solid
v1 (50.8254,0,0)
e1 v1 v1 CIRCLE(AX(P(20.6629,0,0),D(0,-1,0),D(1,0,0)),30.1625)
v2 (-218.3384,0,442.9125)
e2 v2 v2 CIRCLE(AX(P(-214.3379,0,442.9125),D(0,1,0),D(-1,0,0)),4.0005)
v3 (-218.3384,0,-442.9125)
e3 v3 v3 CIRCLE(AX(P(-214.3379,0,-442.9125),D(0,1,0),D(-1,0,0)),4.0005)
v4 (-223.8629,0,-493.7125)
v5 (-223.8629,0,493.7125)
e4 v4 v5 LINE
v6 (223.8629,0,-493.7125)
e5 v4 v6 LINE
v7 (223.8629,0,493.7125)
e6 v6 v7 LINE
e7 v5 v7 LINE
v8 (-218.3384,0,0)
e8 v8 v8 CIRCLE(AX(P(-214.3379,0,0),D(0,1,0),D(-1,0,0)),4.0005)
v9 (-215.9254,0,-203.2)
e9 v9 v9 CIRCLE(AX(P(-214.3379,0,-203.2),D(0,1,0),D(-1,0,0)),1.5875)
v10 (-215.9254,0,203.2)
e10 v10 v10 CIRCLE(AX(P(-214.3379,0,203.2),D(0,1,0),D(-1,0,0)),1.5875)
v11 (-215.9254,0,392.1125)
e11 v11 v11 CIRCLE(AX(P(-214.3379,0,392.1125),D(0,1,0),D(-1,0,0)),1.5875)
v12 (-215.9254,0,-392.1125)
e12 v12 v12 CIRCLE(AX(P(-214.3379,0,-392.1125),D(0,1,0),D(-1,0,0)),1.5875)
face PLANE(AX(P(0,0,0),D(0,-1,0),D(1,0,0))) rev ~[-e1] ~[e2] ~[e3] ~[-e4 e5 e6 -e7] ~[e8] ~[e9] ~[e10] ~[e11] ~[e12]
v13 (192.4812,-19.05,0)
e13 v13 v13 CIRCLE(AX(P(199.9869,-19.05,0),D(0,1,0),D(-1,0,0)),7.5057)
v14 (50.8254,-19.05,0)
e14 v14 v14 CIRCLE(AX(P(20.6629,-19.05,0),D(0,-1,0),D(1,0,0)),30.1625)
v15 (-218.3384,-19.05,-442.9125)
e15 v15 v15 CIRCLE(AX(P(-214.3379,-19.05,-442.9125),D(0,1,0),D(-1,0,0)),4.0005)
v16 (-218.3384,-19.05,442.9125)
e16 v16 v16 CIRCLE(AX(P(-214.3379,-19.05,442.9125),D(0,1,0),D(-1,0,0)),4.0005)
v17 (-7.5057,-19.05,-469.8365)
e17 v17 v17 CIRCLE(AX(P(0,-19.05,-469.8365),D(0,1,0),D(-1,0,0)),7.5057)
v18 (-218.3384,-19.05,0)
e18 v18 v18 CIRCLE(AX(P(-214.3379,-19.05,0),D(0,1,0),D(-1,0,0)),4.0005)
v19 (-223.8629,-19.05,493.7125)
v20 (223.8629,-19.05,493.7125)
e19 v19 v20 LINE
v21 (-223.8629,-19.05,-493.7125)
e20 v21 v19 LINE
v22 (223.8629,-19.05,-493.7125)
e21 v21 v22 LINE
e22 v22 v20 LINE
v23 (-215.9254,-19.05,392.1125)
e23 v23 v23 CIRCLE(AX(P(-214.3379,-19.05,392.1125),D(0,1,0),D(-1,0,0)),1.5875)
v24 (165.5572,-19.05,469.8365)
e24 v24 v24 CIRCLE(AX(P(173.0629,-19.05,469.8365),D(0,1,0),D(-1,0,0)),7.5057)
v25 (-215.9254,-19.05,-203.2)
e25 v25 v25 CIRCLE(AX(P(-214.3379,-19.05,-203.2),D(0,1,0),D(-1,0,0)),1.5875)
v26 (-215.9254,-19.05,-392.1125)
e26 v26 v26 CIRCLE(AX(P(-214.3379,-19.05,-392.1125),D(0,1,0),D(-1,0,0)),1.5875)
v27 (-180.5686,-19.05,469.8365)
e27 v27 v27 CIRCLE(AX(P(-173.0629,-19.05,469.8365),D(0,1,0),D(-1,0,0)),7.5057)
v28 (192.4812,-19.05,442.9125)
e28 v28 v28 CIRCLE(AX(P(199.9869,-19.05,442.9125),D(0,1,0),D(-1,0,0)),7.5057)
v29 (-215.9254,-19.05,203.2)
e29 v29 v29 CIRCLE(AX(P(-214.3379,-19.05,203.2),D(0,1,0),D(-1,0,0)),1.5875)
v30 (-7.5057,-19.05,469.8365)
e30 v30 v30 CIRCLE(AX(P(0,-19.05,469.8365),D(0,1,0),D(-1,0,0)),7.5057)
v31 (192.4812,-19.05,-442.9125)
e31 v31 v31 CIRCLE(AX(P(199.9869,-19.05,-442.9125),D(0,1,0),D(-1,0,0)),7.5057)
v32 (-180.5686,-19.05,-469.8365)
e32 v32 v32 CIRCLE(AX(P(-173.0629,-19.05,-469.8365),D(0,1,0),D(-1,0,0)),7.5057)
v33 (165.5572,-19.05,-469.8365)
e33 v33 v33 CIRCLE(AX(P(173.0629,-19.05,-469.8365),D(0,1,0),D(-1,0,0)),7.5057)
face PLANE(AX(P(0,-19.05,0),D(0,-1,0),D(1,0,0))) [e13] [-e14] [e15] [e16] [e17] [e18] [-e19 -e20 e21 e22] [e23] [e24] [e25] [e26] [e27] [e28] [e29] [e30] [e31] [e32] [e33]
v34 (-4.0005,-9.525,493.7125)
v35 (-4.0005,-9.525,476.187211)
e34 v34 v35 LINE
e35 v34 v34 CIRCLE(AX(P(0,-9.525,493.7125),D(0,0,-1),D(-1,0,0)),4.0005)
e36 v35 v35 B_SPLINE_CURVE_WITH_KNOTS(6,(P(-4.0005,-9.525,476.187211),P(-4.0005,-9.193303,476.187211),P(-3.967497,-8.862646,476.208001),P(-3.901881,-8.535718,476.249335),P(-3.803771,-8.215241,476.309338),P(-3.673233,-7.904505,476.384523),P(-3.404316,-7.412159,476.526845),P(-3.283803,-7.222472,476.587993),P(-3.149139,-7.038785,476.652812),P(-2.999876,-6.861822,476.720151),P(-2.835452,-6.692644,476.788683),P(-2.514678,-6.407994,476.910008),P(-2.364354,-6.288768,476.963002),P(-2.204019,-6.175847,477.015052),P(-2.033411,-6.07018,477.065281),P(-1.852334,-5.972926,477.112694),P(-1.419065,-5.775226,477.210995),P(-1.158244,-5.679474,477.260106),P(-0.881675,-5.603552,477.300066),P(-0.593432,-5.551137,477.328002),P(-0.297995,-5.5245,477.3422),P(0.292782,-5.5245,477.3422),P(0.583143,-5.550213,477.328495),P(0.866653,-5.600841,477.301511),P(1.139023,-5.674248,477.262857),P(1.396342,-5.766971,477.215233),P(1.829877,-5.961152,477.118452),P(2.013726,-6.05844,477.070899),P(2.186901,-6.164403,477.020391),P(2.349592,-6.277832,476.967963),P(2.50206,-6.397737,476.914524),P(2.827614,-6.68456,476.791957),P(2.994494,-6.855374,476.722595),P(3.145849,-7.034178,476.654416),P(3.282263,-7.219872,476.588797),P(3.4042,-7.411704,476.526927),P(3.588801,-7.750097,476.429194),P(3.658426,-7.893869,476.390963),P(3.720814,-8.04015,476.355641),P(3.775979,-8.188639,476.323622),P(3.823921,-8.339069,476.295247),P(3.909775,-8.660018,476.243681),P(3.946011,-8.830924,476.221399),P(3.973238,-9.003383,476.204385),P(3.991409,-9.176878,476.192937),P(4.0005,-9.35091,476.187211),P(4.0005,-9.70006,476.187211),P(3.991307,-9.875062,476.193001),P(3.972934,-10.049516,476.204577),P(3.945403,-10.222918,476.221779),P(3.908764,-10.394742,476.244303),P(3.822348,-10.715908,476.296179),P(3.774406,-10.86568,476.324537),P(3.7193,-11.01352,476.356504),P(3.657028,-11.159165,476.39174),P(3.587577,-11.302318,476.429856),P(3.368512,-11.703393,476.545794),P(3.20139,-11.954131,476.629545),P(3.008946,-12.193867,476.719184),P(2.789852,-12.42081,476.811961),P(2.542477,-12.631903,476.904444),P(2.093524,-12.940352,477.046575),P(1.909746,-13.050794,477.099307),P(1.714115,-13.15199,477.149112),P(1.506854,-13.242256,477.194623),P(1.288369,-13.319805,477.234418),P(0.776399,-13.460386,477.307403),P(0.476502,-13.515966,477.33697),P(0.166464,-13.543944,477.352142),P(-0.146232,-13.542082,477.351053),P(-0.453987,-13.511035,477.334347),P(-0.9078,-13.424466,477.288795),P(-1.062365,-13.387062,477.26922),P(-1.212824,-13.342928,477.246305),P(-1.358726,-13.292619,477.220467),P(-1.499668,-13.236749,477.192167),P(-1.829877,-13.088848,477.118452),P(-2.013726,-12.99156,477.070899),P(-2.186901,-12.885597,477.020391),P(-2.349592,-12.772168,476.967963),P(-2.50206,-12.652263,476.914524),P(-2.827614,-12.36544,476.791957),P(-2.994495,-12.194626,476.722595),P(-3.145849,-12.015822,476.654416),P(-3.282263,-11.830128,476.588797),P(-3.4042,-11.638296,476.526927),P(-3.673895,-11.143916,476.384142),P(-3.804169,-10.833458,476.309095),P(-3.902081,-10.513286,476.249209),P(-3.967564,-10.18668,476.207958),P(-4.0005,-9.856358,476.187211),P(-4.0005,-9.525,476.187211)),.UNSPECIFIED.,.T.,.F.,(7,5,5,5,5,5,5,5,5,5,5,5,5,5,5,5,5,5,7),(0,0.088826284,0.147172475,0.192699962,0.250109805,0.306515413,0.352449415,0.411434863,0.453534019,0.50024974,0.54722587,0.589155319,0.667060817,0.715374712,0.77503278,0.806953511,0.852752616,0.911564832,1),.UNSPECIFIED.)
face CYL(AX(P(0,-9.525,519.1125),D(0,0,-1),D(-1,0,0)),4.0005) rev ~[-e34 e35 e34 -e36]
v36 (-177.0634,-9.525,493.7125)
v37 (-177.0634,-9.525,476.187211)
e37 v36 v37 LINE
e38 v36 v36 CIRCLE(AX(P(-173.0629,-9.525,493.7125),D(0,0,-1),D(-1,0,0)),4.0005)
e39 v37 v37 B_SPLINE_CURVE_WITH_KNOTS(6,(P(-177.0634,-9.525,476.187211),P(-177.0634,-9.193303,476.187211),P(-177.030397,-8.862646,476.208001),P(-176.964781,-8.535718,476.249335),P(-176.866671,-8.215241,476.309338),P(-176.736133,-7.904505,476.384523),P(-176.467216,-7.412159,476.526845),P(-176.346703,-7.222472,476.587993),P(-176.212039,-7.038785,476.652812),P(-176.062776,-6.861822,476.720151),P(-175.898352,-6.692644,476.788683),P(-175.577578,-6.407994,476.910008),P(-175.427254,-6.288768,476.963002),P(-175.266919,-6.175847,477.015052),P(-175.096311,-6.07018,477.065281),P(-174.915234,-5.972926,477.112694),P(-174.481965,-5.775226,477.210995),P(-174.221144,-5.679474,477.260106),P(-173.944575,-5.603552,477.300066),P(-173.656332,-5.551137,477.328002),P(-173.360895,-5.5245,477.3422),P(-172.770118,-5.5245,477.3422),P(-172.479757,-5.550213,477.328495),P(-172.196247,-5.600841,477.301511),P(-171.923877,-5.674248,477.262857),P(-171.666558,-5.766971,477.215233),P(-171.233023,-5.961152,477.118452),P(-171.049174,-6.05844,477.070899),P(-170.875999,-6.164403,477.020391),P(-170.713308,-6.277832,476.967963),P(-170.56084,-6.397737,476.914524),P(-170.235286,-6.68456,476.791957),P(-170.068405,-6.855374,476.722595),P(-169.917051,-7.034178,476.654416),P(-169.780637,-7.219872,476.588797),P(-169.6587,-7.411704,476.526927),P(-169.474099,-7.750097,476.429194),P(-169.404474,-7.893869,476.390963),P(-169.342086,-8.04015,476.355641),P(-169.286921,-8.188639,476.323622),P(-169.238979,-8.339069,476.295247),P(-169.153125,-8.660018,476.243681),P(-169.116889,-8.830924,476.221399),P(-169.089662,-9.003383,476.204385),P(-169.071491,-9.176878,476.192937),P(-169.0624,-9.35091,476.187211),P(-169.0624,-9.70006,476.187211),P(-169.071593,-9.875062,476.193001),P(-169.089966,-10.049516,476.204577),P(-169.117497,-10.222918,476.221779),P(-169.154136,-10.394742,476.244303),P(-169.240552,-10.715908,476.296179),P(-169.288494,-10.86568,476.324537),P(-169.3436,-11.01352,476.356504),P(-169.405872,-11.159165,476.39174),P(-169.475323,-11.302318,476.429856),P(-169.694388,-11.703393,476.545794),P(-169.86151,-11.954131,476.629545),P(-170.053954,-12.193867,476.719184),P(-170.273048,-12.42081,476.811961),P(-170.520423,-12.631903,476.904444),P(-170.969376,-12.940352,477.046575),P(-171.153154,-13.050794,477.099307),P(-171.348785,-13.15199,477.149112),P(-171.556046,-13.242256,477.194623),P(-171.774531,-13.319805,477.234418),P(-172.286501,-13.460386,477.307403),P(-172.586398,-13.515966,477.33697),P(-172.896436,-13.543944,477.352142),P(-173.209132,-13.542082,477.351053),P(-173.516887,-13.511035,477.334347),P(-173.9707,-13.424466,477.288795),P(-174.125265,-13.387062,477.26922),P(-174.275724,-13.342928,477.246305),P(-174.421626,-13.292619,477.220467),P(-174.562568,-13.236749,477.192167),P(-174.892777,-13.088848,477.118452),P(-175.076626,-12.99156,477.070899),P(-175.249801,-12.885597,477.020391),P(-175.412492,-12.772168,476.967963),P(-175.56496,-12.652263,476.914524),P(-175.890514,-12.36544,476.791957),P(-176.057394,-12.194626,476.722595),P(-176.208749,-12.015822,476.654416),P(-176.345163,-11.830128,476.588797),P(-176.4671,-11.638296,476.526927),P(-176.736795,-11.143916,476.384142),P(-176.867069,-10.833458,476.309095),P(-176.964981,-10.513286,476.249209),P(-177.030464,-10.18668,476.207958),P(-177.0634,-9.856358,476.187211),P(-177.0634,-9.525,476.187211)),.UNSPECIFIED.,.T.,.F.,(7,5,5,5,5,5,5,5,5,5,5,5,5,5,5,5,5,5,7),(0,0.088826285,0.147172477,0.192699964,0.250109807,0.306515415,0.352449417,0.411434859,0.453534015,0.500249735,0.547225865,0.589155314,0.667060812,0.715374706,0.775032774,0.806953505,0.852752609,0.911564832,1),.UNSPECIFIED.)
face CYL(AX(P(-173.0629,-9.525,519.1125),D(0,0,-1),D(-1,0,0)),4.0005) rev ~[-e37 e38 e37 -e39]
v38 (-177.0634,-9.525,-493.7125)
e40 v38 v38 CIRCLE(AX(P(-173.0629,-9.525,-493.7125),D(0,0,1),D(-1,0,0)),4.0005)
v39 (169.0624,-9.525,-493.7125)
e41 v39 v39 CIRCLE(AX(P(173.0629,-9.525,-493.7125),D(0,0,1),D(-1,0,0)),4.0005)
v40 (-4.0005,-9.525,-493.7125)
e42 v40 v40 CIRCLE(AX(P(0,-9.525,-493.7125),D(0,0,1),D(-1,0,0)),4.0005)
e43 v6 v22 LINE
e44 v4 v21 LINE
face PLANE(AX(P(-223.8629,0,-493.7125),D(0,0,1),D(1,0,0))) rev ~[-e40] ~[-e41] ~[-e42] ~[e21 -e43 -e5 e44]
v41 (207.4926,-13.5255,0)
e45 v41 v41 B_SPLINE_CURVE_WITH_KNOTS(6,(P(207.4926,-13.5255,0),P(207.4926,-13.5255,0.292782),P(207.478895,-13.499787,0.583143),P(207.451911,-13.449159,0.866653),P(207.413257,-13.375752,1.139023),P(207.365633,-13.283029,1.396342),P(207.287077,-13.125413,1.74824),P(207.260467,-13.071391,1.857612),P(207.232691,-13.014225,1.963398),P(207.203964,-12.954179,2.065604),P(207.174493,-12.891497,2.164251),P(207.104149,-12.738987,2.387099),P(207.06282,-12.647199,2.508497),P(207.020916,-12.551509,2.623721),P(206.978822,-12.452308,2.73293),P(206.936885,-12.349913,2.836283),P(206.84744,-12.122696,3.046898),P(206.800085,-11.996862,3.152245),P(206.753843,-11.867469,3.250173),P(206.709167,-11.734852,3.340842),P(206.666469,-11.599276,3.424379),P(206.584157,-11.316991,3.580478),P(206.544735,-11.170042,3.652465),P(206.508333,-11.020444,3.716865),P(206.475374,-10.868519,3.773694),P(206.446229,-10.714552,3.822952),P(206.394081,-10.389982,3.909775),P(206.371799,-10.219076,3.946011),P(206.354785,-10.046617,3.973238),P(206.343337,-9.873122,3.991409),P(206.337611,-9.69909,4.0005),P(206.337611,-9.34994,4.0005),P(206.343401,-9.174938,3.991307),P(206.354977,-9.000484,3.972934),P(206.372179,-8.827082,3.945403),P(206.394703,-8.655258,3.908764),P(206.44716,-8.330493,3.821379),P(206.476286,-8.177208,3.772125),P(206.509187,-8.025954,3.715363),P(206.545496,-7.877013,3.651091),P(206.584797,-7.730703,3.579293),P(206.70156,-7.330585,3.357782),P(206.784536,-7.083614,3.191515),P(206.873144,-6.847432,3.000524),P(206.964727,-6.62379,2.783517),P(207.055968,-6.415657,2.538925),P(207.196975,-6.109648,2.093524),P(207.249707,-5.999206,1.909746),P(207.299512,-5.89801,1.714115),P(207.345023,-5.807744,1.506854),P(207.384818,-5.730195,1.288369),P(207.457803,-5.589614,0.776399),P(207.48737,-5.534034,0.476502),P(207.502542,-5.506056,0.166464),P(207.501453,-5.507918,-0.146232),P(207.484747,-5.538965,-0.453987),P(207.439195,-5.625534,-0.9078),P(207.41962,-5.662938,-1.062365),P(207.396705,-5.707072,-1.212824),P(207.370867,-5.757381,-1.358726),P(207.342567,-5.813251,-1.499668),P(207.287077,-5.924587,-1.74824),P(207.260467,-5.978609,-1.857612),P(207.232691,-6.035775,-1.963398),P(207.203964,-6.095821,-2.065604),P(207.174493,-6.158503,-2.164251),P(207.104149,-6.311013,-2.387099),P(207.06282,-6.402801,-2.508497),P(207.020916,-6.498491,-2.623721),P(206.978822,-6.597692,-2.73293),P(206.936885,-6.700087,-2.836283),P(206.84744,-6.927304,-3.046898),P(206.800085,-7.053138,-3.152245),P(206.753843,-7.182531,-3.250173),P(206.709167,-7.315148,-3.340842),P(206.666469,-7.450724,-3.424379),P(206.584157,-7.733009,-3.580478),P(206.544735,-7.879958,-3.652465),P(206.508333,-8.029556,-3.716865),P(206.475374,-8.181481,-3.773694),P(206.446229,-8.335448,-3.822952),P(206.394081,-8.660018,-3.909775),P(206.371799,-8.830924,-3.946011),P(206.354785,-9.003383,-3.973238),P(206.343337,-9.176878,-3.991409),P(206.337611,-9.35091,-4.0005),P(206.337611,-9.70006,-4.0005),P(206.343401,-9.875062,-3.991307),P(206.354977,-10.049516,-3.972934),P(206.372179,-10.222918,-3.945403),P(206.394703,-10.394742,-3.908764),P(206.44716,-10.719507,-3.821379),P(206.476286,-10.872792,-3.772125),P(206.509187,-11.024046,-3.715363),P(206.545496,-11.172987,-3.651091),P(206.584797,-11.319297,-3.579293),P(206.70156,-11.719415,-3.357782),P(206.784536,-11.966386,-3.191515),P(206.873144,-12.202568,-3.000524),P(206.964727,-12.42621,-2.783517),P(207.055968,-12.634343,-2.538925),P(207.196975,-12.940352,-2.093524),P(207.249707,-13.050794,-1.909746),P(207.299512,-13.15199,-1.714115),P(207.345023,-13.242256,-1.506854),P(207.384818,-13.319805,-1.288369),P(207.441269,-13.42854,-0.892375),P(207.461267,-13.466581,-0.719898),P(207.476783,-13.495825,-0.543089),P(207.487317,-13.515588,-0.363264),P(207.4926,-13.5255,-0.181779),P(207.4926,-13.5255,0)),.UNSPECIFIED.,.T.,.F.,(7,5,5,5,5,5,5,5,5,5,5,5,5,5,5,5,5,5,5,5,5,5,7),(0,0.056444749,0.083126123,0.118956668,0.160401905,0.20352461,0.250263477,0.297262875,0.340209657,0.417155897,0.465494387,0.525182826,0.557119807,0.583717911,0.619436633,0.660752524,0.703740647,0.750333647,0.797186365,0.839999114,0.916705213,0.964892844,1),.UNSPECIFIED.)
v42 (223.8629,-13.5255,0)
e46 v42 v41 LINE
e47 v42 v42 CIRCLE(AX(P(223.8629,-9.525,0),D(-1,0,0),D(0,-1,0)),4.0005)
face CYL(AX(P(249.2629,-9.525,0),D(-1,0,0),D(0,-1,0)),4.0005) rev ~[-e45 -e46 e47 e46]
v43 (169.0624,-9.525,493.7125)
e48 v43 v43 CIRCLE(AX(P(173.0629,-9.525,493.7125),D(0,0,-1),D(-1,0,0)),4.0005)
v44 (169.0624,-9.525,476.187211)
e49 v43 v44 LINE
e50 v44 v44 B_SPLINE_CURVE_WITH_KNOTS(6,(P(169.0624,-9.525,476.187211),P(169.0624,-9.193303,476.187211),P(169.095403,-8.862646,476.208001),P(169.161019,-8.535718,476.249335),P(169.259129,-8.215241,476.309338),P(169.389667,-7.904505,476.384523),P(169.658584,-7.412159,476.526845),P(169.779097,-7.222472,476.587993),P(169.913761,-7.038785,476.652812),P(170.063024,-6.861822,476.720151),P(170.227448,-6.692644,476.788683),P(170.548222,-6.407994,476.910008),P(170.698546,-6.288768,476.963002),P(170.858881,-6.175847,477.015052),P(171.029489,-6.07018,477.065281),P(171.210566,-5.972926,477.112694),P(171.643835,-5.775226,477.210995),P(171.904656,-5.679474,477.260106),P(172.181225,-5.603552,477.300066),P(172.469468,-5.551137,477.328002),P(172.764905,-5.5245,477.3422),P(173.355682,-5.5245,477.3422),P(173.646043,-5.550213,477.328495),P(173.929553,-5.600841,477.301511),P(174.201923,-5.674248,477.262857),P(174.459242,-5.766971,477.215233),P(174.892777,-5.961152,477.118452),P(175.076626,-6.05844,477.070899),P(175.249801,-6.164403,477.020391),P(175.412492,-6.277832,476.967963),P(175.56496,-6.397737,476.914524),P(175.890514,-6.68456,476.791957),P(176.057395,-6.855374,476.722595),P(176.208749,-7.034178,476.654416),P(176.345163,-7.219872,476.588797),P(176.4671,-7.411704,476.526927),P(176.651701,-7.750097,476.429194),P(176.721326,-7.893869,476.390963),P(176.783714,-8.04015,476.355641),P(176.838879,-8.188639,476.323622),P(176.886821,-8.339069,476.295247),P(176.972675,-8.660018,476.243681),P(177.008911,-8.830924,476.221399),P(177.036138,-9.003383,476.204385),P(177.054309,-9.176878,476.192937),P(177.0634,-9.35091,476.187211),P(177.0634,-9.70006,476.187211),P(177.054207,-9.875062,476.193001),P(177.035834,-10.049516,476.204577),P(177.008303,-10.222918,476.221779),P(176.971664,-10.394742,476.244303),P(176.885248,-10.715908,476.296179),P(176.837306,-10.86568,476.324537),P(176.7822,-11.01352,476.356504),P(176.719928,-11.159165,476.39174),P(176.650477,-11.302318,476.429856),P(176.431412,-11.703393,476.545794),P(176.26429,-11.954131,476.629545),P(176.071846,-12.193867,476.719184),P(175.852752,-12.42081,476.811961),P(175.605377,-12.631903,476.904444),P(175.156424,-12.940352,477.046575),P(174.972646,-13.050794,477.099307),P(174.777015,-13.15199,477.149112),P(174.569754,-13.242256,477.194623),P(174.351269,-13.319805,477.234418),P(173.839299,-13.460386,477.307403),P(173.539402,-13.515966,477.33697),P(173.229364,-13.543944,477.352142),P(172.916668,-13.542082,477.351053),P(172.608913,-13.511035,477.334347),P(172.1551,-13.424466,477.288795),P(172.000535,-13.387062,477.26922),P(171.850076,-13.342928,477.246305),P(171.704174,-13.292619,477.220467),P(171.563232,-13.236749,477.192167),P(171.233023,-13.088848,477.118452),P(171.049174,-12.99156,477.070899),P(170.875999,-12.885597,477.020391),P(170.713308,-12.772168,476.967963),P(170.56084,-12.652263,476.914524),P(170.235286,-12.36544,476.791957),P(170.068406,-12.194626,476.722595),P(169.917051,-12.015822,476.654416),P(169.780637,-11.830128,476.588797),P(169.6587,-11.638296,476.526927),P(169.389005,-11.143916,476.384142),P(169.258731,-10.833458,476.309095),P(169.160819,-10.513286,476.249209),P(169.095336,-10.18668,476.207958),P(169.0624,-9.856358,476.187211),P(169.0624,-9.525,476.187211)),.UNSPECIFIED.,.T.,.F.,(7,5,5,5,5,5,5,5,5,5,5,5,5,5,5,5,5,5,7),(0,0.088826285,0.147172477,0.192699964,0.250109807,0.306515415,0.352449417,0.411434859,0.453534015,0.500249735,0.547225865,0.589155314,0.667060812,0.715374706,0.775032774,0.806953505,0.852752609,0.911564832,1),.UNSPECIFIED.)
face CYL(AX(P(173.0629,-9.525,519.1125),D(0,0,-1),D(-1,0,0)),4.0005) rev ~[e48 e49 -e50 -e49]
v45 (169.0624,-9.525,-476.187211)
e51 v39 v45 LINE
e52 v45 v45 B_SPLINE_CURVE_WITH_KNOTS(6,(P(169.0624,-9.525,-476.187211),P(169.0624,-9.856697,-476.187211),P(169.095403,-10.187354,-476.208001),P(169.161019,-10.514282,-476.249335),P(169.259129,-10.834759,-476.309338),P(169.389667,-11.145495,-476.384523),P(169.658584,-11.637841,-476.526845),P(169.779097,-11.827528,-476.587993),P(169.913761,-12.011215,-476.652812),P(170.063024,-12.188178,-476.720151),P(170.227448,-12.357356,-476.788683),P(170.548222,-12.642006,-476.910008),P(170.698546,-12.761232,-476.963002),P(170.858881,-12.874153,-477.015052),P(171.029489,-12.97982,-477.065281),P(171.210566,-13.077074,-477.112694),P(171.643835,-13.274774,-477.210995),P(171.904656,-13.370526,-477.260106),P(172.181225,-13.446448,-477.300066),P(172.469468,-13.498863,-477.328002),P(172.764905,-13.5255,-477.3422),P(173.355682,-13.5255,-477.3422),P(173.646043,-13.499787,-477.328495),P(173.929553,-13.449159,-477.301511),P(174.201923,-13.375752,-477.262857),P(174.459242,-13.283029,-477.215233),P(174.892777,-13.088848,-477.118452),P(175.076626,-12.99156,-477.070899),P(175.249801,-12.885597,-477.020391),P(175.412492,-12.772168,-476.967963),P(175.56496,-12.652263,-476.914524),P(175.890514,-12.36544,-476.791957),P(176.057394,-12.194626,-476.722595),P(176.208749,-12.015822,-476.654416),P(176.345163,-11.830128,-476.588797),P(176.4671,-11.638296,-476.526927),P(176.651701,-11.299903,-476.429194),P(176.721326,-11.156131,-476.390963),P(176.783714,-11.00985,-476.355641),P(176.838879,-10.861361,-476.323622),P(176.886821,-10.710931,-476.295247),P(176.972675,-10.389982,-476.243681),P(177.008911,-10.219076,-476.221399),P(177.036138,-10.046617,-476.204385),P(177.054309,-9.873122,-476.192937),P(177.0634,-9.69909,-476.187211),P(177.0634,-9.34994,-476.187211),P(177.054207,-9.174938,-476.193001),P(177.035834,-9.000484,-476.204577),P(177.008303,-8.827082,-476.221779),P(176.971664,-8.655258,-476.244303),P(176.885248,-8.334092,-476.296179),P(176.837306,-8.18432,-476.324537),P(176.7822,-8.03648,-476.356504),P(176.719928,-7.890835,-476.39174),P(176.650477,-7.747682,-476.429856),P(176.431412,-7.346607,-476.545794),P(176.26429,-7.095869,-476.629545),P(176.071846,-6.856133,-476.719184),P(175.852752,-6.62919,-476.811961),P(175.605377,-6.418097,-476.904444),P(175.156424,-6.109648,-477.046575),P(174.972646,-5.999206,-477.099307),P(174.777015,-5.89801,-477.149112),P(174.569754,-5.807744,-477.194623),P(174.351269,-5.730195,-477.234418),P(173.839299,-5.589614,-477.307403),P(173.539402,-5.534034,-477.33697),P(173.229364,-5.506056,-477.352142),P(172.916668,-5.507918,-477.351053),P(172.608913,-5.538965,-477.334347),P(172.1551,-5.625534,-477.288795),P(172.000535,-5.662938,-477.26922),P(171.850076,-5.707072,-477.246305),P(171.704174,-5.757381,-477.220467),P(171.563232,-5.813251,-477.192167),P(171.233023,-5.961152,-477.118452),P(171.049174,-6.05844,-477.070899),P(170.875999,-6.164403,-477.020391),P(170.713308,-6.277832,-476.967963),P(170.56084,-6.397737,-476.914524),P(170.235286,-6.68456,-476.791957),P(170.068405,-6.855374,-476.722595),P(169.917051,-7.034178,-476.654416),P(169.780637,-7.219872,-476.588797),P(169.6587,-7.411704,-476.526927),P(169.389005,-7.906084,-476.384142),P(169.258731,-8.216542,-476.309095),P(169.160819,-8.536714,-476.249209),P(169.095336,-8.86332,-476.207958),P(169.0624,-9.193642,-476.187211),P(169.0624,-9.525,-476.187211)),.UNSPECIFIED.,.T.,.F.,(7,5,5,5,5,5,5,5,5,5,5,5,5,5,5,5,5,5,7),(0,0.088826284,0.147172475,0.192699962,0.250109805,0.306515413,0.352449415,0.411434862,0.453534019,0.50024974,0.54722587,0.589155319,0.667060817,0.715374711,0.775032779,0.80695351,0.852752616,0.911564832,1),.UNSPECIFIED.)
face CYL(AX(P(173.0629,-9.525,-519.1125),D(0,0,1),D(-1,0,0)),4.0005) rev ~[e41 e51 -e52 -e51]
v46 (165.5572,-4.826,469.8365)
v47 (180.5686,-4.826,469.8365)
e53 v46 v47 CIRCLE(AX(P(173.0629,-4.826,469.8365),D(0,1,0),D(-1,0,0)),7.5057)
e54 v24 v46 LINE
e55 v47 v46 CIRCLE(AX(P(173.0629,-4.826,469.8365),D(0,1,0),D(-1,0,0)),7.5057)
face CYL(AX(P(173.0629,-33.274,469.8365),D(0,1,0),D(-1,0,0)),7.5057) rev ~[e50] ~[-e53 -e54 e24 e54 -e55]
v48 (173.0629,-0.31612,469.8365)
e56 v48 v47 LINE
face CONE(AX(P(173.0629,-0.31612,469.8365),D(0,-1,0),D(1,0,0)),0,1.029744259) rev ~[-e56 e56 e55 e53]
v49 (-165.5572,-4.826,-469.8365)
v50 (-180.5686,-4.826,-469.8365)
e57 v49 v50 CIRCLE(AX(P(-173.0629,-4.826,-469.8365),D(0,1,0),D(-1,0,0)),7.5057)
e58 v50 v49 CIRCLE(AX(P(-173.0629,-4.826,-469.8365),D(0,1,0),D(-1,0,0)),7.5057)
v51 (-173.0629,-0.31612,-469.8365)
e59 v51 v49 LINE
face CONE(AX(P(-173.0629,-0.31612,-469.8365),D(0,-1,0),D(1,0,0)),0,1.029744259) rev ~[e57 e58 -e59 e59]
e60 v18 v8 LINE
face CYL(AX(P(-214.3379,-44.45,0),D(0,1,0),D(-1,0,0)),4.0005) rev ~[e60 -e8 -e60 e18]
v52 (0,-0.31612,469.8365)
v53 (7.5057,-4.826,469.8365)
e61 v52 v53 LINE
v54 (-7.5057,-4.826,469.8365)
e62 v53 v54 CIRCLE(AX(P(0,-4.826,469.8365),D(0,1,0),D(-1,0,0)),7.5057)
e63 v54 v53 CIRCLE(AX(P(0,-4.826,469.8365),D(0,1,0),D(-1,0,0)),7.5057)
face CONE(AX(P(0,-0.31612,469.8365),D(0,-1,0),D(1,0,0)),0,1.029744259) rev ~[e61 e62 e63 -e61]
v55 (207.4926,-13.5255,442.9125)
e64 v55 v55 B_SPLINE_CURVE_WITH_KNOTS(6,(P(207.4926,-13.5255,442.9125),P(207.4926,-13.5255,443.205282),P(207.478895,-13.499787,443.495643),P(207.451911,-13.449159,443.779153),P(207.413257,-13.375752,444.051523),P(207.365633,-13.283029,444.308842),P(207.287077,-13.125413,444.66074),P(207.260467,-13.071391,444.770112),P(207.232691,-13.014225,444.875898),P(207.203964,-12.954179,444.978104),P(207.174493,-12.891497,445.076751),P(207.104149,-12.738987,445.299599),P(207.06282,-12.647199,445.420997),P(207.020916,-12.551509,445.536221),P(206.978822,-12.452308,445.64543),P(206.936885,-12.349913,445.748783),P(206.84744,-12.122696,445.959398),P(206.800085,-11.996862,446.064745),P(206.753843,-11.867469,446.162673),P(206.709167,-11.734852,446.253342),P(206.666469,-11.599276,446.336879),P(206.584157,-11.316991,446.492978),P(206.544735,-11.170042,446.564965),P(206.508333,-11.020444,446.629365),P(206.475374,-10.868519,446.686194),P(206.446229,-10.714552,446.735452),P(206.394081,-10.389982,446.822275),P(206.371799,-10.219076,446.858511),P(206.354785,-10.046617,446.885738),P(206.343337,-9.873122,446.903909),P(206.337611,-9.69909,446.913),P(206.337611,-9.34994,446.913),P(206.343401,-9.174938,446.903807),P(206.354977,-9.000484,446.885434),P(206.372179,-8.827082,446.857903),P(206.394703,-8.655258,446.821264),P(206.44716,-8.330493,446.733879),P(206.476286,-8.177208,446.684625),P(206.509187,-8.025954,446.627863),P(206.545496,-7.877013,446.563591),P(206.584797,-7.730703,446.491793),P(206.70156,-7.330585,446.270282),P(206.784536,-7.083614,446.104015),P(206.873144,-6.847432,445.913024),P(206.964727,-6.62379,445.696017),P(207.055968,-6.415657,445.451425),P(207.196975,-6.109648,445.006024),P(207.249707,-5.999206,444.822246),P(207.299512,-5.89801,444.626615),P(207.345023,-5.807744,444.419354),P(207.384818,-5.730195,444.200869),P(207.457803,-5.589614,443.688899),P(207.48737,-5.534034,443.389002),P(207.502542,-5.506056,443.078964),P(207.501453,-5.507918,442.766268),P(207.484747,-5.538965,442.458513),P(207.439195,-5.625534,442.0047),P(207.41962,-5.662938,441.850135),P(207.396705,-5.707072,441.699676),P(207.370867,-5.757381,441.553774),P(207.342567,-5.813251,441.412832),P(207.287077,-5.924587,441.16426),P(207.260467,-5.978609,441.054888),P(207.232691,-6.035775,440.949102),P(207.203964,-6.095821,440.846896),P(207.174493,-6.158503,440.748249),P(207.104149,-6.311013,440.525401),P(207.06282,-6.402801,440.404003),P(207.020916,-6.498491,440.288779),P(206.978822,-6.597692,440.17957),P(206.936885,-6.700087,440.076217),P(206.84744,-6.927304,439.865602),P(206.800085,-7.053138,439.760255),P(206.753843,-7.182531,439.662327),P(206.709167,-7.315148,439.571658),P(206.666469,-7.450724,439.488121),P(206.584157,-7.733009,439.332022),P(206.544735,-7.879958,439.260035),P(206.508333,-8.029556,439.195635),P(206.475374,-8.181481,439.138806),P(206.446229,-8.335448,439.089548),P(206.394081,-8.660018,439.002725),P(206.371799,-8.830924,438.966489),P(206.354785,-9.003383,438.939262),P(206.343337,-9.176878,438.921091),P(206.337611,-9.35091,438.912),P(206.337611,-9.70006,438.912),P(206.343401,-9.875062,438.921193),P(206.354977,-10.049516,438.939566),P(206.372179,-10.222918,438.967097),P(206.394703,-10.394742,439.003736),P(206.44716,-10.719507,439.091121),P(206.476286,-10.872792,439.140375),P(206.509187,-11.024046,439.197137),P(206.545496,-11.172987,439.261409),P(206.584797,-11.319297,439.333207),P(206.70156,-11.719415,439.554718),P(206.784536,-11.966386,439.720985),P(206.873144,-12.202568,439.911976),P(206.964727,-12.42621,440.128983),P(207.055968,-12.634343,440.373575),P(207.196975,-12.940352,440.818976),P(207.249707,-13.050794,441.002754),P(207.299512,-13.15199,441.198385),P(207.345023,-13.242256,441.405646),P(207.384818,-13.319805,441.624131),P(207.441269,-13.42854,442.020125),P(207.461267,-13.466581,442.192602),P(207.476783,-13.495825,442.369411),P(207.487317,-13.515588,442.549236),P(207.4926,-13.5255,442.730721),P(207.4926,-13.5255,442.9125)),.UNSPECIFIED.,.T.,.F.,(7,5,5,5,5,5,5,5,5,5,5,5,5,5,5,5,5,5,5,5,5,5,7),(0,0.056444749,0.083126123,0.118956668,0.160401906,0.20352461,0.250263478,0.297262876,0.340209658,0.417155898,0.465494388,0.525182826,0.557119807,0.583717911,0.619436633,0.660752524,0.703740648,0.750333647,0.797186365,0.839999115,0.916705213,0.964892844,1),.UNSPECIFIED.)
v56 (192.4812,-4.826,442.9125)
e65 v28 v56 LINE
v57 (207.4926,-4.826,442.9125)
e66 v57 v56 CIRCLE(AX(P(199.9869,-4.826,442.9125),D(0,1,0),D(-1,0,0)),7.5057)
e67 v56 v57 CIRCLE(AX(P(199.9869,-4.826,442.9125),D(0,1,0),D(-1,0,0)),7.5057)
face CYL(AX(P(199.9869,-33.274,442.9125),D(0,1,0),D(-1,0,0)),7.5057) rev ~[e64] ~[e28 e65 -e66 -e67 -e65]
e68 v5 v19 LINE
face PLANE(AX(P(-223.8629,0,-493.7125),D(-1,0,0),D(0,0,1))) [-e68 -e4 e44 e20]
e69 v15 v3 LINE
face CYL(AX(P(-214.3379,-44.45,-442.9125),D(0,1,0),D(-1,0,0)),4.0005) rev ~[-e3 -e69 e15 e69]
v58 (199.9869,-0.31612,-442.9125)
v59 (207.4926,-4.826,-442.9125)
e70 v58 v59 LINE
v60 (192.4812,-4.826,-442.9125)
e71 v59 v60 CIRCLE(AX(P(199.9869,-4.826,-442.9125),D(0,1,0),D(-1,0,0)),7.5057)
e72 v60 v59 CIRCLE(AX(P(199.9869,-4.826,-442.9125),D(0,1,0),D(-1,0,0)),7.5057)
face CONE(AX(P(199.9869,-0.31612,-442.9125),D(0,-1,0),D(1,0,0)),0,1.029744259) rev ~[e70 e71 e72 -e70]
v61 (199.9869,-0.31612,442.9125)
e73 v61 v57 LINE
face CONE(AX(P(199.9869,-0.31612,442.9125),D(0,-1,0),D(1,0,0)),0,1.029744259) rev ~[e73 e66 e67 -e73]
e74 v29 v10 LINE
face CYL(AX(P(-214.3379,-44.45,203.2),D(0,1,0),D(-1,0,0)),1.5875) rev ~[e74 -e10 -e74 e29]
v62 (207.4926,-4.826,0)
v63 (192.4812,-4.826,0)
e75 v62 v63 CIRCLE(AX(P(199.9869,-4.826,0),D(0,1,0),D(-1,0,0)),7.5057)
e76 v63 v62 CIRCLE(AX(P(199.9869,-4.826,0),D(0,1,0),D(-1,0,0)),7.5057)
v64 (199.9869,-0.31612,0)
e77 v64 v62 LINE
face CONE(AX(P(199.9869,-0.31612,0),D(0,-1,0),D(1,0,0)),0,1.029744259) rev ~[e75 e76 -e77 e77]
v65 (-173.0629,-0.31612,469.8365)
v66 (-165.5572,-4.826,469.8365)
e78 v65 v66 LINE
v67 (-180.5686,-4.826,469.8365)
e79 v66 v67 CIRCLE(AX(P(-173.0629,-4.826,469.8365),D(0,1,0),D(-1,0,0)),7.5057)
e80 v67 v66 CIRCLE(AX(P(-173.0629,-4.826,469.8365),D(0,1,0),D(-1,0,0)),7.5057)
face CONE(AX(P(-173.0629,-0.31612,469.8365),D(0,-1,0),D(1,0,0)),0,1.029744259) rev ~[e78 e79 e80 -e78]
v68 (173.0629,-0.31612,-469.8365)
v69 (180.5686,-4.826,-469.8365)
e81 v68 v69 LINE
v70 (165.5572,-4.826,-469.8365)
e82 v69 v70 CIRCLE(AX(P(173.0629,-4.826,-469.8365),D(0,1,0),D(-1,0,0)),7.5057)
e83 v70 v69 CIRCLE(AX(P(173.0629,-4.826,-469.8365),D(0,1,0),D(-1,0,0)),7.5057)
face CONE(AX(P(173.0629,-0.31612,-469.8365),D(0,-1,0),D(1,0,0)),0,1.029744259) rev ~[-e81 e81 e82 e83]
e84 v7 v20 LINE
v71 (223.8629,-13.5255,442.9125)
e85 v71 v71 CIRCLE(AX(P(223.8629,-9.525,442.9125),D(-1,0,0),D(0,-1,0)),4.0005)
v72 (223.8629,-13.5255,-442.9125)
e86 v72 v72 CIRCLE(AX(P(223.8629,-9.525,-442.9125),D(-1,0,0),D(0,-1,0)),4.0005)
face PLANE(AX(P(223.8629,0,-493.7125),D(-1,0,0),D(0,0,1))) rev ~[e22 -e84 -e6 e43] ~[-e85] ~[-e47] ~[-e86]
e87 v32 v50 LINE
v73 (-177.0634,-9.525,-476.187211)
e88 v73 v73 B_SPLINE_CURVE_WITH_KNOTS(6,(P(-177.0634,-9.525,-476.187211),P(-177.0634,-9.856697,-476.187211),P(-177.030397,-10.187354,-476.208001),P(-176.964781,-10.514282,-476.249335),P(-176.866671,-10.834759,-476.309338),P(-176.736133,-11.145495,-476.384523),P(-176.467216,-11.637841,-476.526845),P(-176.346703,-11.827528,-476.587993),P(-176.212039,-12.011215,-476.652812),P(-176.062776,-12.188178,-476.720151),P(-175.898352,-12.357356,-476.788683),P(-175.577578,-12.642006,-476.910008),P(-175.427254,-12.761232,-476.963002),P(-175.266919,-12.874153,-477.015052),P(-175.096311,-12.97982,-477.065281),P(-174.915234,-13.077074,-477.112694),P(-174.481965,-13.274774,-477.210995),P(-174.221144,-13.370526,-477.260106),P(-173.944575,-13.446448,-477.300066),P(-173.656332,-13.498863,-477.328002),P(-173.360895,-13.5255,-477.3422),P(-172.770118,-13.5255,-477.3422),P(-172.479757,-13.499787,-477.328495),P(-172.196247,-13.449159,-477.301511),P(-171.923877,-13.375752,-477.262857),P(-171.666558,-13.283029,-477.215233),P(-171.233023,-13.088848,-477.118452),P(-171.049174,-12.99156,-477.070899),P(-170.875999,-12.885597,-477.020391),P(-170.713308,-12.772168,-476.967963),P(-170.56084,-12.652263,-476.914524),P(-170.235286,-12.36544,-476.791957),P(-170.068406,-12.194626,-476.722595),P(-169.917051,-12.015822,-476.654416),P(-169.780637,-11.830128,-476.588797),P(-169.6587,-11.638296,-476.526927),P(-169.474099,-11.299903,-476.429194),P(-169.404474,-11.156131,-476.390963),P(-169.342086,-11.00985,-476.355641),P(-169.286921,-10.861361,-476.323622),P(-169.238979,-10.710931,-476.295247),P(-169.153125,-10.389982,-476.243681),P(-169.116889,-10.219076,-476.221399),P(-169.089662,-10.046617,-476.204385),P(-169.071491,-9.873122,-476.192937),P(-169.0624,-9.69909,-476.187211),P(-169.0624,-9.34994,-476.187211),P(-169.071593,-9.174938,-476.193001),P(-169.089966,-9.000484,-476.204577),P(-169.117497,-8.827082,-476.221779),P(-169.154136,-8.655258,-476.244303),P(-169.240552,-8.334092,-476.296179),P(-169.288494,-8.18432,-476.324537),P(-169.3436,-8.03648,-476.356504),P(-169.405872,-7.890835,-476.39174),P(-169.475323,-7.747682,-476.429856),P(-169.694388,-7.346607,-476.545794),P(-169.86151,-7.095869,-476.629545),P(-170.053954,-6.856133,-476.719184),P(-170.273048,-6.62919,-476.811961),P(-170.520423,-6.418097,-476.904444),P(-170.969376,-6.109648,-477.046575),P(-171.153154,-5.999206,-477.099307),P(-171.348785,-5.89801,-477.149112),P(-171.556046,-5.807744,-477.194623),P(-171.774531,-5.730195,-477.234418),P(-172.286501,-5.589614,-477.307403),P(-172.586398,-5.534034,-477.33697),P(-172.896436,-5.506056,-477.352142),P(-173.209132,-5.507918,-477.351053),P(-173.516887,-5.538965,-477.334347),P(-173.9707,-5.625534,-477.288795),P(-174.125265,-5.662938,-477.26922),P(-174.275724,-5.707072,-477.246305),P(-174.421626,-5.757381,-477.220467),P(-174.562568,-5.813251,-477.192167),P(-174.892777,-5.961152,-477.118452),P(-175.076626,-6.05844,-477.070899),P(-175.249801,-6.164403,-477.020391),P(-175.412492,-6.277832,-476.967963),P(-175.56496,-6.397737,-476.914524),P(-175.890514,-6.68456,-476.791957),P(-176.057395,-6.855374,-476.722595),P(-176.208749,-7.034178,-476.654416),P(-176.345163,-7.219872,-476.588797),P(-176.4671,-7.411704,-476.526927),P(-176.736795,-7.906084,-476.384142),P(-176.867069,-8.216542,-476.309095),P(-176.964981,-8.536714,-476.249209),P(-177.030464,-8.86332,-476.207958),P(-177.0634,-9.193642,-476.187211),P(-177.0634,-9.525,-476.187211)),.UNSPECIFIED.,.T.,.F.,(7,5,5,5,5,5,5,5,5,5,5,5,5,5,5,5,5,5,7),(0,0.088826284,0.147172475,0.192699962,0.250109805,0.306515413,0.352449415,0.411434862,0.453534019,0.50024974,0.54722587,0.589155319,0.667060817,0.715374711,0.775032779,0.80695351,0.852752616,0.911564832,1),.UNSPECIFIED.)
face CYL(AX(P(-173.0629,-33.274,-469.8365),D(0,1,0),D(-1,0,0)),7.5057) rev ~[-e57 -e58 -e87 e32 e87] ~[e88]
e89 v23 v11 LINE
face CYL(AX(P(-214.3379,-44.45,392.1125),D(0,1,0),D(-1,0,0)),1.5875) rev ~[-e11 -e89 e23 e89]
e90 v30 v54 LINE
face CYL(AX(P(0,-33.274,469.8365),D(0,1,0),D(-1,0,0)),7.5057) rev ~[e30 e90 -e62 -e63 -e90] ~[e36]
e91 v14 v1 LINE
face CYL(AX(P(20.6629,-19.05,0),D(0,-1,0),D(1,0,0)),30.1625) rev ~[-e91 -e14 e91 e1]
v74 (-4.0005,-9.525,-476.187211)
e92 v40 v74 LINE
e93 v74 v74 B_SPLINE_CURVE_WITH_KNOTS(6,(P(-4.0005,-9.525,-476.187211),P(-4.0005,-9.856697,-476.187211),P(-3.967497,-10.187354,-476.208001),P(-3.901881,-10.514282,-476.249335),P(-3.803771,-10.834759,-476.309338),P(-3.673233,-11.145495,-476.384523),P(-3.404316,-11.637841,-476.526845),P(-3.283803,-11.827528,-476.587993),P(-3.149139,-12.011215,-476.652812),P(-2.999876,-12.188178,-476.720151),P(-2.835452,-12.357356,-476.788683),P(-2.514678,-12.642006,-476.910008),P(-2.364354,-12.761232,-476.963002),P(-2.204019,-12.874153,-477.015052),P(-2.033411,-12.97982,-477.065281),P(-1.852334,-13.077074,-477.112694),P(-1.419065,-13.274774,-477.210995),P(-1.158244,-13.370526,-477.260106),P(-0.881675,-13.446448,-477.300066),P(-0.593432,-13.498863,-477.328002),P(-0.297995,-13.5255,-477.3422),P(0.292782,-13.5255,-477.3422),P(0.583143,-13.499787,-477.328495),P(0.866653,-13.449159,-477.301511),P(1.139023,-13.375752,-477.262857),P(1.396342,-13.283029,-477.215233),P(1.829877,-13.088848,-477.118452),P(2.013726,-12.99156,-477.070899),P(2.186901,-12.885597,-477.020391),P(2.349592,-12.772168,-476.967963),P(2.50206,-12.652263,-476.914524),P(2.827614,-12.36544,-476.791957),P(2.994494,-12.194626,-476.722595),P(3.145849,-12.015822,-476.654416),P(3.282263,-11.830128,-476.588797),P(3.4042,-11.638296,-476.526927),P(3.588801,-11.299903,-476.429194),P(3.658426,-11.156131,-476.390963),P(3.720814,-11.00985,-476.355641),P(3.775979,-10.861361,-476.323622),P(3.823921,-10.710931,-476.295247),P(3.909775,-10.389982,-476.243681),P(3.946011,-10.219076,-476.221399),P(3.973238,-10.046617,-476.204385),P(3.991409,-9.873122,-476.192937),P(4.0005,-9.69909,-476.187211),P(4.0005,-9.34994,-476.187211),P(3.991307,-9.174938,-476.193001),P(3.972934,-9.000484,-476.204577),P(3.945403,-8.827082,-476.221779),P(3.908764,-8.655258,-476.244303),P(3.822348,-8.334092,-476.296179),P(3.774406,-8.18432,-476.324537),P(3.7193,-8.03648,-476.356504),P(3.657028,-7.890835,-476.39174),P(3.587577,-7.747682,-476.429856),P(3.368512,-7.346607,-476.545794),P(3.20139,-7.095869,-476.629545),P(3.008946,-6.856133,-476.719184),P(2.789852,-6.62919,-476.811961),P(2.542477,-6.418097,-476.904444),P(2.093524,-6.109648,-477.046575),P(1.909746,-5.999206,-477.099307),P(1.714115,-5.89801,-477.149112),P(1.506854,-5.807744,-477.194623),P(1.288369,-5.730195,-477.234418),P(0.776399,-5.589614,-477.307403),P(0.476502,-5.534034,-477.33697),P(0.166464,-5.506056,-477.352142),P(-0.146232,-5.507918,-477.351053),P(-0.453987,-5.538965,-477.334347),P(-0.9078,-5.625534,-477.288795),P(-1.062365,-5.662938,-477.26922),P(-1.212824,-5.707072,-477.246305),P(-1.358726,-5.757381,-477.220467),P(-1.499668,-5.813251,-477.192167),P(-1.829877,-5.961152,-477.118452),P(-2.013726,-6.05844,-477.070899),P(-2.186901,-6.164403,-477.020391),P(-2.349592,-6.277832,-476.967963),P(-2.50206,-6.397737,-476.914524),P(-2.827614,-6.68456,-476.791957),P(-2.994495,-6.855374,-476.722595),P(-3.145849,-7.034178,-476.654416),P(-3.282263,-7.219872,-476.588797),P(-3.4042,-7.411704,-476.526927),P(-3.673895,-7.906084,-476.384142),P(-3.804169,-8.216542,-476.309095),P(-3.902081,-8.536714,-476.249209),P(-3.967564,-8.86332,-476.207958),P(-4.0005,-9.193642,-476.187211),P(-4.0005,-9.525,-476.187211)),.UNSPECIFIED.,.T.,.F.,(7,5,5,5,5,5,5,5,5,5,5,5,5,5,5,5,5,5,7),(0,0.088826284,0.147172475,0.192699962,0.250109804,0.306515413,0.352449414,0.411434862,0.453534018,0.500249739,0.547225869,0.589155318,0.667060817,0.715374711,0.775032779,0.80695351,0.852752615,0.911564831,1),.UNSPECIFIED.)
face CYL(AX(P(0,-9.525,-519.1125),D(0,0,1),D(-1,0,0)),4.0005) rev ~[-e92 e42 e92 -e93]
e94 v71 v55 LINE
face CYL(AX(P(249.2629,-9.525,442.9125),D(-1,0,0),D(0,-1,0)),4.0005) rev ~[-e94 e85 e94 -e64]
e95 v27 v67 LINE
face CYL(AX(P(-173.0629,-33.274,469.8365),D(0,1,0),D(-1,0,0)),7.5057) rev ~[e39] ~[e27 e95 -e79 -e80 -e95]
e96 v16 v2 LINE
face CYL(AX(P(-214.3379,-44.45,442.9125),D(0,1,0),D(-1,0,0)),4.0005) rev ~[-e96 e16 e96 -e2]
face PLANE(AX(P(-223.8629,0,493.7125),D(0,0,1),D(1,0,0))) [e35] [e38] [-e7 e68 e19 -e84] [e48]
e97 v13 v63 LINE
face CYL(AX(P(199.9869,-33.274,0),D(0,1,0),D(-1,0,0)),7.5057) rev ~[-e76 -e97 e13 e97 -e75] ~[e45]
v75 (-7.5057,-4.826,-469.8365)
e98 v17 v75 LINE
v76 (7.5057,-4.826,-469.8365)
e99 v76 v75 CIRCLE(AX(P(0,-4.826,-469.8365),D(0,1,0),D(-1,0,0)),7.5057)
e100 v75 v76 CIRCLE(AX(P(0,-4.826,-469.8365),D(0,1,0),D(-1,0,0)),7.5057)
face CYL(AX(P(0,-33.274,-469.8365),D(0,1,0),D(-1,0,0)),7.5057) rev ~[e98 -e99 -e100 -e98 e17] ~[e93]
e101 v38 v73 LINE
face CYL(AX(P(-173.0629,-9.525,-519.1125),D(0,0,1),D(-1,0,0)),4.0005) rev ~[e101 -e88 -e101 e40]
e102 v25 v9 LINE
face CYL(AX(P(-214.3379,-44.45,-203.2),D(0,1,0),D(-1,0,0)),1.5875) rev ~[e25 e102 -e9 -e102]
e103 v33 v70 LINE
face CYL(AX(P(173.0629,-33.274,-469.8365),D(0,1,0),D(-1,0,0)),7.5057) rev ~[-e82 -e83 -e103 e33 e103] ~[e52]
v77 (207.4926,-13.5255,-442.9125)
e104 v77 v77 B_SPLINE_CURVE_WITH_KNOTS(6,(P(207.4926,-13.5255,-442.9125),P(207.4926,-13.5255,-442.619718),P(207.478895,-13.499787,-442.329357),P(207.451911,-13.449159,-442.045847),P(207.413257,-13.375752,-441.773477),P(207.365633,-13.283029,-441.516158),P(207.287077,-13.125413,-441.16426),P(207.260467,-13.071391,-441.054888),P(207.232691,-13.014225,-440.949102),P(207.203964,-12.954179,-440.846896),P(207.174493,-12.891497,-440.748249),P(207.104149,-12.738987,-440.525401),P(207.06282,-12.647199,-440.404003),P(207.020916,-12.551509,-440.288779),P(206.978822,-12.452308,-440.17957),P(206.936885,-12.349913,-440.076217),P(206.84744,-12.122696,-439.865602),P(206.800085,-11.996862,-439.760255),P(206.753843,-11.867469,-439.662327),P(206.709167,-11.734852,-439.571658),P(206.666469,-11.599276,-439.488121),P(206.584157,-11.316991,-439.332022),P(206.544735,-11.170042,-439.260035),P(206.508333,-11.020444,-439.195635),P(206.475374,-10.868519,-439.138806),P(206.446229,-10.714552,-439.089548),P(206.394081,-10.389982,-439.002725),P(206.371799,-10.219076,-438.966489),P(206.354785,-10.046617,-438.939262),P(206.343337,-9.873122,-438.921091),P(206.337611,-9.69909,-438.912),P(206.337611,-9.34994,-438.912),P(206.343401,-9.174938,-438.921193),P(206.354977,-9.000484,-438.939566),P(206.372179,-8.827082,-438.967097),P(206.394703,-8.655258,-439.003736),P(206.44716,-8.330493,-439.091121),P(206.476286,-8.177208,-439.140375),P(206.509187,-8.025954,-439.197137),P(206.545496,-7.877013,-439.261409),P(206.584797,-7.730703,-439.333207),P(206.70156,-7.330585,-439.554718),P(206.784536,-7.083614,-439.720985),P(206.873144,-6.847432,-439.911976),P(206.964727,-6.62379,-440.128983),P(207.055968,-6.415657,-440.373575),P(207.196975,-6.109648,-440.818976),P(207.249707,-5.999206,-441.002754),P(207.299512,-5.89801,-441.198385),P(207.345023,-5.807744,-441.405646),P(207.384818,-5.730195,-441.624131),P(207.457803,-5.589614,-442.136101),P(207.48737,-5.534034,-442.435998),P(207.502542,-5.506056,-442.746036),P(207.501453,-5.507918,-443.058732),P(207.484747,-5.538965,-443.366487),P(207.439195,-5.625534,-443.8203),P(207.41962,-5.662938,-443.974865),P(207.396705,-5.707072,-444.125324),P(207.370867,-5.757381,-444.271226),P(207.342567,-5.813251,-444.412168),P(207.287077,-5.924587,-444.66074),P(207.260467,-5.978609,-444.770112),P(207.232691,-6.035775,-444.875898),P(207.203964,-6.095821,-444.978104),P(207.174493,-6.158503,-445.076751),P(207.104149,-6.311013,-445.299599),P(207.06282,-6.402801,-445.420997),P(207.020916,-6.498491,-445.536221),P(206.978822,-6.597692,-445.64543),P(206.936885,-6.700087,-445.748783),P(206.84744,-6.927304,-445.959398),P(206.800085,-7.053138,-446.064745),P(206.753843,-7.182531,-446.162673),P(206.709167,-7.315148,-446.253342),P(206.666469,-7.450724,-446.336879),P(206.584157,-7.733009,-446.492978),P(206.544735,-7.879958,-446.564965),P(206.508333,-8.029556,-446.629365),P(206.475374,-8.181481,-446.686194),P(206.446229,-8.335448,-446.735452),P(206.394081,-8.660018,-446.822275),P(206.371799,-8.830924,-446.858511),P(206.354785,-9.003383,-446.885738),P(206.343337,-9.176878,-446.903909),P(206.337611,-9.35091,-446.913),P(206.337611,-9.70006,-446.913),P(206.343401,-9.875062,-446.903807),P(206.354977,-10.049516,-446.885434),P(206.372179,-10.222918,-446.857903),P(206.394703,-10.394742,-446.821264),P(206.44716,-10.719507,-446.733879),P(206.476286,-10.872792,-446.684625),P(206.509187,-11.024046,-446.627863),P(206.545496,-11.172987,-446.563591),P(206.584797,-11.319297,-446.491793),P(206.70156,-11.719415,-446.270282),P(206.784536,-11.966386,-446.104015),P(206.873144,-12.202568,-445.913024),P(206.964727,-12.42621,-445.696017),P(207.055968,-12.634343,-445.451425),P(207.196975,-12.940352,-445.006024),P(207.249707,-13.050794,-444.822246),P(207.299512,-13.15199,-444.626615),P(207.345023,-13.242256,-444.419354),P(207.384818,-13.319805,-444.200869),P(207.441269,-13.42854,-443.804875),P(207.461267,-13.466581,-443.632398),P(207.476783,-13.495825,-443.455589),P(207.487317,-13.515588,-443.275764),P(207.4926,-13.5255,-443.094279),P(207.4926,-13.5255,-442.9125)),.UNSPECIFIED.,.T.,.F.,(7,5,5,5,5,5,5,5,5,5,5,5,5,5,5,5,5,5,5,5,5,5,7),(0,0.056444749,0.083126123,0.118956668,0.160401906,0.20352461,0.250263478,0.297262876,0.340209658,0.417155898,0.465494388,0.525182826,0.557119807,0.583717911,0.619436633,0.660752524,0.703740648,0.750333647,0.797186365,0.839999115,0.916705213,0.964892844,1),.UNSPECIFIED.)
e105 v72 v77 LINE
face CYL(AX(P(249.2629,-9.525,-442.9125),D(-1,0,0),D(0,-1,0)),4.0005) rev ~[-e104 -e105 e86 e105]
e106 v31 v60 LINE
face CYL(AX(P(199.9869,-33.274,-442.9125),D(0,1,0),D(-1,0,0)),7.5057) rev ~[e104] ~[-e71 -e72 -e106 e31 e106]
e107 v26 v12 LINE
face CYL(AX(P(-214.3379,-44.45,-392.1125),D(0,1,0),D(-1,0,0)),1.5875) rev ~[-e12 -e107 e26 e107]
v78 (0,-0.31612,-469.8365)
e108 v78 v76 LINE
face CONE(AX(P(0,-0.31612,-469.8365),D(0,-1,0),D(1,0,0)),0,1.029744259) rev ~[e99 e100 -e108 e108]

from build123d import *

# Parameters (mm, degrees)
F0_W      = 447.7258
F0_H      = 987.425
F1_DEPTH  = 19.05
F3_D      = 8.001
F3_DEPTH  = 25.4
F3_TIP    = 2.4037429064
F4_R      = 30.1625
F5_DEPTH  = 25.4
F6_D      = 15.0114
F6_DEPTH  = 14.224
F6_TIP    = 4.5098795482
F8_D      = 8.001
F8_DEPTH  = 25.4
F8_TIP    = 2.4037429064
F10_D     = 8.001
F10_DEPTH = 25.4
F10_TIP   = 2.4037429064
F12_D     = 8.001
F12_DEPTH = 25.4
F12_TIP   = 2.4037429064
F13_D     = 3.175
F13_DEPTH = 25.4
F13_TIP   = 0.9538662327


with BuildPart() as f1:
    # F0 (on Front) → F1 (new body)
    with BuildSketch(Plane.XZ):
        Rectangle(F0_W, F0_H)
    extrude(amount=F1_DEPTH)

    # F3
    with Locations(Plane.XZ.offset(19.05)):
        with Locations((-214.3379, 442.9125), (-214.3379, 0), (-214.3379, -442.9125)):
            Hole(F3_D / 2, depth=F3_DEPTH)
            with Locations((0, 0, -(F3_DEPTH + F3_TIP / 2))):  # 118° drill point
                Cone(0, F3_D / 2, F3_TIP, mode=Mode.SUBTRACT)

    # F4 (on face) → F5 (cut)
    with BuildSketch(Plane.XZ.offset(19.05)):
        with Locations((20.6629, 0)):
            Circle(F4_R)
    extrude(amount=-F5_DEPTH, mode=Mode.SUBTRACT)

    # F6
    with Locations(Plane.XZ.offset(19.05)):
        with Locations((-173.0629, 469.8365), (0, 469.8365), (173.0629, 469.8365), (199.9869, 442.9125), (199.9869, 0), (199.9869, -442.9125), (173.0629, -469.8365), (0, -469.8365), (-173.0629, -469.8365)):
            Hole(F6_D / 2, depth=F6_DEPTH)
            with Locations((0, 0, -(F6_DEPTH + F6_TIP / 2))):  # 118° drill point
                Cone(0, F6_D / 2, F6_TIP, mode=Mode.SUBTRACT)

    # F8
    with Locations(Plane(origin=(0, 0, -493.7125), x_dir=(1, 0, 0), z_dir=(0, 0, -1))):
        with Locations((-173.0629, 9.525), (0, 9.525), (173.0629, 9.525)):
            Hole(F8_D / 2, depth=F8_DEPTH)
            with Locations((0, 0, -(F8_DEPTH + F8_TIP / 2))):  # 118° drill point
                Cone(0, F8_D / 2, F8_TIP, mode=Mode.SUBTRACT)

    # F10
    with Locations(Plane.XY.offset(493.7125)):
        with Locations((-173.0629, -9.525), (0, -9.525), (173.0629, -9.525)):
            Hole(F10_D / 2, depth=F10_DEPTH)
            with Locations((0, 0, -(F10_DEPTH + F10_TIP / 2))):  # 118° drill point
                Cone(0, F10_D / 2, F10_TIP, mode=Mode.SUBTRACT)

    # F12
    with Locations(Plane.YZ.offset(223.8629)):
        with Locations((-9.525, 0), (-9.525, -442.9125), (-9.525, 442.9125)):
            Hole(F12_D / 2, depth=F12_DEPTH)
            with Locations((0, 0, -(F12_DEPTH + F12_TIP / 2))):  # 118° drill point
                Cone(0, F12_D / 2, F12_TIP, mode=Mode.SUBTRACT)

    # F13
    with Locations(Plane.XZ.offset(19.05)):
        with Locations((-214.3379, 392.1125), (-214.3379, 203.2), (-214.3379, -203.2), (-214.3379, -392.1125)):
            Hole(F13_D / 2, depth=F13_DEPTH)
            with Locations((0, 0, -(F13_DEPTH + F13_TIP / 2))):  # 118° drill point
                Cone(0, F13_D / 2, F13_TIP, mode=Mode.SUBTRACT)


solid = f1.part
